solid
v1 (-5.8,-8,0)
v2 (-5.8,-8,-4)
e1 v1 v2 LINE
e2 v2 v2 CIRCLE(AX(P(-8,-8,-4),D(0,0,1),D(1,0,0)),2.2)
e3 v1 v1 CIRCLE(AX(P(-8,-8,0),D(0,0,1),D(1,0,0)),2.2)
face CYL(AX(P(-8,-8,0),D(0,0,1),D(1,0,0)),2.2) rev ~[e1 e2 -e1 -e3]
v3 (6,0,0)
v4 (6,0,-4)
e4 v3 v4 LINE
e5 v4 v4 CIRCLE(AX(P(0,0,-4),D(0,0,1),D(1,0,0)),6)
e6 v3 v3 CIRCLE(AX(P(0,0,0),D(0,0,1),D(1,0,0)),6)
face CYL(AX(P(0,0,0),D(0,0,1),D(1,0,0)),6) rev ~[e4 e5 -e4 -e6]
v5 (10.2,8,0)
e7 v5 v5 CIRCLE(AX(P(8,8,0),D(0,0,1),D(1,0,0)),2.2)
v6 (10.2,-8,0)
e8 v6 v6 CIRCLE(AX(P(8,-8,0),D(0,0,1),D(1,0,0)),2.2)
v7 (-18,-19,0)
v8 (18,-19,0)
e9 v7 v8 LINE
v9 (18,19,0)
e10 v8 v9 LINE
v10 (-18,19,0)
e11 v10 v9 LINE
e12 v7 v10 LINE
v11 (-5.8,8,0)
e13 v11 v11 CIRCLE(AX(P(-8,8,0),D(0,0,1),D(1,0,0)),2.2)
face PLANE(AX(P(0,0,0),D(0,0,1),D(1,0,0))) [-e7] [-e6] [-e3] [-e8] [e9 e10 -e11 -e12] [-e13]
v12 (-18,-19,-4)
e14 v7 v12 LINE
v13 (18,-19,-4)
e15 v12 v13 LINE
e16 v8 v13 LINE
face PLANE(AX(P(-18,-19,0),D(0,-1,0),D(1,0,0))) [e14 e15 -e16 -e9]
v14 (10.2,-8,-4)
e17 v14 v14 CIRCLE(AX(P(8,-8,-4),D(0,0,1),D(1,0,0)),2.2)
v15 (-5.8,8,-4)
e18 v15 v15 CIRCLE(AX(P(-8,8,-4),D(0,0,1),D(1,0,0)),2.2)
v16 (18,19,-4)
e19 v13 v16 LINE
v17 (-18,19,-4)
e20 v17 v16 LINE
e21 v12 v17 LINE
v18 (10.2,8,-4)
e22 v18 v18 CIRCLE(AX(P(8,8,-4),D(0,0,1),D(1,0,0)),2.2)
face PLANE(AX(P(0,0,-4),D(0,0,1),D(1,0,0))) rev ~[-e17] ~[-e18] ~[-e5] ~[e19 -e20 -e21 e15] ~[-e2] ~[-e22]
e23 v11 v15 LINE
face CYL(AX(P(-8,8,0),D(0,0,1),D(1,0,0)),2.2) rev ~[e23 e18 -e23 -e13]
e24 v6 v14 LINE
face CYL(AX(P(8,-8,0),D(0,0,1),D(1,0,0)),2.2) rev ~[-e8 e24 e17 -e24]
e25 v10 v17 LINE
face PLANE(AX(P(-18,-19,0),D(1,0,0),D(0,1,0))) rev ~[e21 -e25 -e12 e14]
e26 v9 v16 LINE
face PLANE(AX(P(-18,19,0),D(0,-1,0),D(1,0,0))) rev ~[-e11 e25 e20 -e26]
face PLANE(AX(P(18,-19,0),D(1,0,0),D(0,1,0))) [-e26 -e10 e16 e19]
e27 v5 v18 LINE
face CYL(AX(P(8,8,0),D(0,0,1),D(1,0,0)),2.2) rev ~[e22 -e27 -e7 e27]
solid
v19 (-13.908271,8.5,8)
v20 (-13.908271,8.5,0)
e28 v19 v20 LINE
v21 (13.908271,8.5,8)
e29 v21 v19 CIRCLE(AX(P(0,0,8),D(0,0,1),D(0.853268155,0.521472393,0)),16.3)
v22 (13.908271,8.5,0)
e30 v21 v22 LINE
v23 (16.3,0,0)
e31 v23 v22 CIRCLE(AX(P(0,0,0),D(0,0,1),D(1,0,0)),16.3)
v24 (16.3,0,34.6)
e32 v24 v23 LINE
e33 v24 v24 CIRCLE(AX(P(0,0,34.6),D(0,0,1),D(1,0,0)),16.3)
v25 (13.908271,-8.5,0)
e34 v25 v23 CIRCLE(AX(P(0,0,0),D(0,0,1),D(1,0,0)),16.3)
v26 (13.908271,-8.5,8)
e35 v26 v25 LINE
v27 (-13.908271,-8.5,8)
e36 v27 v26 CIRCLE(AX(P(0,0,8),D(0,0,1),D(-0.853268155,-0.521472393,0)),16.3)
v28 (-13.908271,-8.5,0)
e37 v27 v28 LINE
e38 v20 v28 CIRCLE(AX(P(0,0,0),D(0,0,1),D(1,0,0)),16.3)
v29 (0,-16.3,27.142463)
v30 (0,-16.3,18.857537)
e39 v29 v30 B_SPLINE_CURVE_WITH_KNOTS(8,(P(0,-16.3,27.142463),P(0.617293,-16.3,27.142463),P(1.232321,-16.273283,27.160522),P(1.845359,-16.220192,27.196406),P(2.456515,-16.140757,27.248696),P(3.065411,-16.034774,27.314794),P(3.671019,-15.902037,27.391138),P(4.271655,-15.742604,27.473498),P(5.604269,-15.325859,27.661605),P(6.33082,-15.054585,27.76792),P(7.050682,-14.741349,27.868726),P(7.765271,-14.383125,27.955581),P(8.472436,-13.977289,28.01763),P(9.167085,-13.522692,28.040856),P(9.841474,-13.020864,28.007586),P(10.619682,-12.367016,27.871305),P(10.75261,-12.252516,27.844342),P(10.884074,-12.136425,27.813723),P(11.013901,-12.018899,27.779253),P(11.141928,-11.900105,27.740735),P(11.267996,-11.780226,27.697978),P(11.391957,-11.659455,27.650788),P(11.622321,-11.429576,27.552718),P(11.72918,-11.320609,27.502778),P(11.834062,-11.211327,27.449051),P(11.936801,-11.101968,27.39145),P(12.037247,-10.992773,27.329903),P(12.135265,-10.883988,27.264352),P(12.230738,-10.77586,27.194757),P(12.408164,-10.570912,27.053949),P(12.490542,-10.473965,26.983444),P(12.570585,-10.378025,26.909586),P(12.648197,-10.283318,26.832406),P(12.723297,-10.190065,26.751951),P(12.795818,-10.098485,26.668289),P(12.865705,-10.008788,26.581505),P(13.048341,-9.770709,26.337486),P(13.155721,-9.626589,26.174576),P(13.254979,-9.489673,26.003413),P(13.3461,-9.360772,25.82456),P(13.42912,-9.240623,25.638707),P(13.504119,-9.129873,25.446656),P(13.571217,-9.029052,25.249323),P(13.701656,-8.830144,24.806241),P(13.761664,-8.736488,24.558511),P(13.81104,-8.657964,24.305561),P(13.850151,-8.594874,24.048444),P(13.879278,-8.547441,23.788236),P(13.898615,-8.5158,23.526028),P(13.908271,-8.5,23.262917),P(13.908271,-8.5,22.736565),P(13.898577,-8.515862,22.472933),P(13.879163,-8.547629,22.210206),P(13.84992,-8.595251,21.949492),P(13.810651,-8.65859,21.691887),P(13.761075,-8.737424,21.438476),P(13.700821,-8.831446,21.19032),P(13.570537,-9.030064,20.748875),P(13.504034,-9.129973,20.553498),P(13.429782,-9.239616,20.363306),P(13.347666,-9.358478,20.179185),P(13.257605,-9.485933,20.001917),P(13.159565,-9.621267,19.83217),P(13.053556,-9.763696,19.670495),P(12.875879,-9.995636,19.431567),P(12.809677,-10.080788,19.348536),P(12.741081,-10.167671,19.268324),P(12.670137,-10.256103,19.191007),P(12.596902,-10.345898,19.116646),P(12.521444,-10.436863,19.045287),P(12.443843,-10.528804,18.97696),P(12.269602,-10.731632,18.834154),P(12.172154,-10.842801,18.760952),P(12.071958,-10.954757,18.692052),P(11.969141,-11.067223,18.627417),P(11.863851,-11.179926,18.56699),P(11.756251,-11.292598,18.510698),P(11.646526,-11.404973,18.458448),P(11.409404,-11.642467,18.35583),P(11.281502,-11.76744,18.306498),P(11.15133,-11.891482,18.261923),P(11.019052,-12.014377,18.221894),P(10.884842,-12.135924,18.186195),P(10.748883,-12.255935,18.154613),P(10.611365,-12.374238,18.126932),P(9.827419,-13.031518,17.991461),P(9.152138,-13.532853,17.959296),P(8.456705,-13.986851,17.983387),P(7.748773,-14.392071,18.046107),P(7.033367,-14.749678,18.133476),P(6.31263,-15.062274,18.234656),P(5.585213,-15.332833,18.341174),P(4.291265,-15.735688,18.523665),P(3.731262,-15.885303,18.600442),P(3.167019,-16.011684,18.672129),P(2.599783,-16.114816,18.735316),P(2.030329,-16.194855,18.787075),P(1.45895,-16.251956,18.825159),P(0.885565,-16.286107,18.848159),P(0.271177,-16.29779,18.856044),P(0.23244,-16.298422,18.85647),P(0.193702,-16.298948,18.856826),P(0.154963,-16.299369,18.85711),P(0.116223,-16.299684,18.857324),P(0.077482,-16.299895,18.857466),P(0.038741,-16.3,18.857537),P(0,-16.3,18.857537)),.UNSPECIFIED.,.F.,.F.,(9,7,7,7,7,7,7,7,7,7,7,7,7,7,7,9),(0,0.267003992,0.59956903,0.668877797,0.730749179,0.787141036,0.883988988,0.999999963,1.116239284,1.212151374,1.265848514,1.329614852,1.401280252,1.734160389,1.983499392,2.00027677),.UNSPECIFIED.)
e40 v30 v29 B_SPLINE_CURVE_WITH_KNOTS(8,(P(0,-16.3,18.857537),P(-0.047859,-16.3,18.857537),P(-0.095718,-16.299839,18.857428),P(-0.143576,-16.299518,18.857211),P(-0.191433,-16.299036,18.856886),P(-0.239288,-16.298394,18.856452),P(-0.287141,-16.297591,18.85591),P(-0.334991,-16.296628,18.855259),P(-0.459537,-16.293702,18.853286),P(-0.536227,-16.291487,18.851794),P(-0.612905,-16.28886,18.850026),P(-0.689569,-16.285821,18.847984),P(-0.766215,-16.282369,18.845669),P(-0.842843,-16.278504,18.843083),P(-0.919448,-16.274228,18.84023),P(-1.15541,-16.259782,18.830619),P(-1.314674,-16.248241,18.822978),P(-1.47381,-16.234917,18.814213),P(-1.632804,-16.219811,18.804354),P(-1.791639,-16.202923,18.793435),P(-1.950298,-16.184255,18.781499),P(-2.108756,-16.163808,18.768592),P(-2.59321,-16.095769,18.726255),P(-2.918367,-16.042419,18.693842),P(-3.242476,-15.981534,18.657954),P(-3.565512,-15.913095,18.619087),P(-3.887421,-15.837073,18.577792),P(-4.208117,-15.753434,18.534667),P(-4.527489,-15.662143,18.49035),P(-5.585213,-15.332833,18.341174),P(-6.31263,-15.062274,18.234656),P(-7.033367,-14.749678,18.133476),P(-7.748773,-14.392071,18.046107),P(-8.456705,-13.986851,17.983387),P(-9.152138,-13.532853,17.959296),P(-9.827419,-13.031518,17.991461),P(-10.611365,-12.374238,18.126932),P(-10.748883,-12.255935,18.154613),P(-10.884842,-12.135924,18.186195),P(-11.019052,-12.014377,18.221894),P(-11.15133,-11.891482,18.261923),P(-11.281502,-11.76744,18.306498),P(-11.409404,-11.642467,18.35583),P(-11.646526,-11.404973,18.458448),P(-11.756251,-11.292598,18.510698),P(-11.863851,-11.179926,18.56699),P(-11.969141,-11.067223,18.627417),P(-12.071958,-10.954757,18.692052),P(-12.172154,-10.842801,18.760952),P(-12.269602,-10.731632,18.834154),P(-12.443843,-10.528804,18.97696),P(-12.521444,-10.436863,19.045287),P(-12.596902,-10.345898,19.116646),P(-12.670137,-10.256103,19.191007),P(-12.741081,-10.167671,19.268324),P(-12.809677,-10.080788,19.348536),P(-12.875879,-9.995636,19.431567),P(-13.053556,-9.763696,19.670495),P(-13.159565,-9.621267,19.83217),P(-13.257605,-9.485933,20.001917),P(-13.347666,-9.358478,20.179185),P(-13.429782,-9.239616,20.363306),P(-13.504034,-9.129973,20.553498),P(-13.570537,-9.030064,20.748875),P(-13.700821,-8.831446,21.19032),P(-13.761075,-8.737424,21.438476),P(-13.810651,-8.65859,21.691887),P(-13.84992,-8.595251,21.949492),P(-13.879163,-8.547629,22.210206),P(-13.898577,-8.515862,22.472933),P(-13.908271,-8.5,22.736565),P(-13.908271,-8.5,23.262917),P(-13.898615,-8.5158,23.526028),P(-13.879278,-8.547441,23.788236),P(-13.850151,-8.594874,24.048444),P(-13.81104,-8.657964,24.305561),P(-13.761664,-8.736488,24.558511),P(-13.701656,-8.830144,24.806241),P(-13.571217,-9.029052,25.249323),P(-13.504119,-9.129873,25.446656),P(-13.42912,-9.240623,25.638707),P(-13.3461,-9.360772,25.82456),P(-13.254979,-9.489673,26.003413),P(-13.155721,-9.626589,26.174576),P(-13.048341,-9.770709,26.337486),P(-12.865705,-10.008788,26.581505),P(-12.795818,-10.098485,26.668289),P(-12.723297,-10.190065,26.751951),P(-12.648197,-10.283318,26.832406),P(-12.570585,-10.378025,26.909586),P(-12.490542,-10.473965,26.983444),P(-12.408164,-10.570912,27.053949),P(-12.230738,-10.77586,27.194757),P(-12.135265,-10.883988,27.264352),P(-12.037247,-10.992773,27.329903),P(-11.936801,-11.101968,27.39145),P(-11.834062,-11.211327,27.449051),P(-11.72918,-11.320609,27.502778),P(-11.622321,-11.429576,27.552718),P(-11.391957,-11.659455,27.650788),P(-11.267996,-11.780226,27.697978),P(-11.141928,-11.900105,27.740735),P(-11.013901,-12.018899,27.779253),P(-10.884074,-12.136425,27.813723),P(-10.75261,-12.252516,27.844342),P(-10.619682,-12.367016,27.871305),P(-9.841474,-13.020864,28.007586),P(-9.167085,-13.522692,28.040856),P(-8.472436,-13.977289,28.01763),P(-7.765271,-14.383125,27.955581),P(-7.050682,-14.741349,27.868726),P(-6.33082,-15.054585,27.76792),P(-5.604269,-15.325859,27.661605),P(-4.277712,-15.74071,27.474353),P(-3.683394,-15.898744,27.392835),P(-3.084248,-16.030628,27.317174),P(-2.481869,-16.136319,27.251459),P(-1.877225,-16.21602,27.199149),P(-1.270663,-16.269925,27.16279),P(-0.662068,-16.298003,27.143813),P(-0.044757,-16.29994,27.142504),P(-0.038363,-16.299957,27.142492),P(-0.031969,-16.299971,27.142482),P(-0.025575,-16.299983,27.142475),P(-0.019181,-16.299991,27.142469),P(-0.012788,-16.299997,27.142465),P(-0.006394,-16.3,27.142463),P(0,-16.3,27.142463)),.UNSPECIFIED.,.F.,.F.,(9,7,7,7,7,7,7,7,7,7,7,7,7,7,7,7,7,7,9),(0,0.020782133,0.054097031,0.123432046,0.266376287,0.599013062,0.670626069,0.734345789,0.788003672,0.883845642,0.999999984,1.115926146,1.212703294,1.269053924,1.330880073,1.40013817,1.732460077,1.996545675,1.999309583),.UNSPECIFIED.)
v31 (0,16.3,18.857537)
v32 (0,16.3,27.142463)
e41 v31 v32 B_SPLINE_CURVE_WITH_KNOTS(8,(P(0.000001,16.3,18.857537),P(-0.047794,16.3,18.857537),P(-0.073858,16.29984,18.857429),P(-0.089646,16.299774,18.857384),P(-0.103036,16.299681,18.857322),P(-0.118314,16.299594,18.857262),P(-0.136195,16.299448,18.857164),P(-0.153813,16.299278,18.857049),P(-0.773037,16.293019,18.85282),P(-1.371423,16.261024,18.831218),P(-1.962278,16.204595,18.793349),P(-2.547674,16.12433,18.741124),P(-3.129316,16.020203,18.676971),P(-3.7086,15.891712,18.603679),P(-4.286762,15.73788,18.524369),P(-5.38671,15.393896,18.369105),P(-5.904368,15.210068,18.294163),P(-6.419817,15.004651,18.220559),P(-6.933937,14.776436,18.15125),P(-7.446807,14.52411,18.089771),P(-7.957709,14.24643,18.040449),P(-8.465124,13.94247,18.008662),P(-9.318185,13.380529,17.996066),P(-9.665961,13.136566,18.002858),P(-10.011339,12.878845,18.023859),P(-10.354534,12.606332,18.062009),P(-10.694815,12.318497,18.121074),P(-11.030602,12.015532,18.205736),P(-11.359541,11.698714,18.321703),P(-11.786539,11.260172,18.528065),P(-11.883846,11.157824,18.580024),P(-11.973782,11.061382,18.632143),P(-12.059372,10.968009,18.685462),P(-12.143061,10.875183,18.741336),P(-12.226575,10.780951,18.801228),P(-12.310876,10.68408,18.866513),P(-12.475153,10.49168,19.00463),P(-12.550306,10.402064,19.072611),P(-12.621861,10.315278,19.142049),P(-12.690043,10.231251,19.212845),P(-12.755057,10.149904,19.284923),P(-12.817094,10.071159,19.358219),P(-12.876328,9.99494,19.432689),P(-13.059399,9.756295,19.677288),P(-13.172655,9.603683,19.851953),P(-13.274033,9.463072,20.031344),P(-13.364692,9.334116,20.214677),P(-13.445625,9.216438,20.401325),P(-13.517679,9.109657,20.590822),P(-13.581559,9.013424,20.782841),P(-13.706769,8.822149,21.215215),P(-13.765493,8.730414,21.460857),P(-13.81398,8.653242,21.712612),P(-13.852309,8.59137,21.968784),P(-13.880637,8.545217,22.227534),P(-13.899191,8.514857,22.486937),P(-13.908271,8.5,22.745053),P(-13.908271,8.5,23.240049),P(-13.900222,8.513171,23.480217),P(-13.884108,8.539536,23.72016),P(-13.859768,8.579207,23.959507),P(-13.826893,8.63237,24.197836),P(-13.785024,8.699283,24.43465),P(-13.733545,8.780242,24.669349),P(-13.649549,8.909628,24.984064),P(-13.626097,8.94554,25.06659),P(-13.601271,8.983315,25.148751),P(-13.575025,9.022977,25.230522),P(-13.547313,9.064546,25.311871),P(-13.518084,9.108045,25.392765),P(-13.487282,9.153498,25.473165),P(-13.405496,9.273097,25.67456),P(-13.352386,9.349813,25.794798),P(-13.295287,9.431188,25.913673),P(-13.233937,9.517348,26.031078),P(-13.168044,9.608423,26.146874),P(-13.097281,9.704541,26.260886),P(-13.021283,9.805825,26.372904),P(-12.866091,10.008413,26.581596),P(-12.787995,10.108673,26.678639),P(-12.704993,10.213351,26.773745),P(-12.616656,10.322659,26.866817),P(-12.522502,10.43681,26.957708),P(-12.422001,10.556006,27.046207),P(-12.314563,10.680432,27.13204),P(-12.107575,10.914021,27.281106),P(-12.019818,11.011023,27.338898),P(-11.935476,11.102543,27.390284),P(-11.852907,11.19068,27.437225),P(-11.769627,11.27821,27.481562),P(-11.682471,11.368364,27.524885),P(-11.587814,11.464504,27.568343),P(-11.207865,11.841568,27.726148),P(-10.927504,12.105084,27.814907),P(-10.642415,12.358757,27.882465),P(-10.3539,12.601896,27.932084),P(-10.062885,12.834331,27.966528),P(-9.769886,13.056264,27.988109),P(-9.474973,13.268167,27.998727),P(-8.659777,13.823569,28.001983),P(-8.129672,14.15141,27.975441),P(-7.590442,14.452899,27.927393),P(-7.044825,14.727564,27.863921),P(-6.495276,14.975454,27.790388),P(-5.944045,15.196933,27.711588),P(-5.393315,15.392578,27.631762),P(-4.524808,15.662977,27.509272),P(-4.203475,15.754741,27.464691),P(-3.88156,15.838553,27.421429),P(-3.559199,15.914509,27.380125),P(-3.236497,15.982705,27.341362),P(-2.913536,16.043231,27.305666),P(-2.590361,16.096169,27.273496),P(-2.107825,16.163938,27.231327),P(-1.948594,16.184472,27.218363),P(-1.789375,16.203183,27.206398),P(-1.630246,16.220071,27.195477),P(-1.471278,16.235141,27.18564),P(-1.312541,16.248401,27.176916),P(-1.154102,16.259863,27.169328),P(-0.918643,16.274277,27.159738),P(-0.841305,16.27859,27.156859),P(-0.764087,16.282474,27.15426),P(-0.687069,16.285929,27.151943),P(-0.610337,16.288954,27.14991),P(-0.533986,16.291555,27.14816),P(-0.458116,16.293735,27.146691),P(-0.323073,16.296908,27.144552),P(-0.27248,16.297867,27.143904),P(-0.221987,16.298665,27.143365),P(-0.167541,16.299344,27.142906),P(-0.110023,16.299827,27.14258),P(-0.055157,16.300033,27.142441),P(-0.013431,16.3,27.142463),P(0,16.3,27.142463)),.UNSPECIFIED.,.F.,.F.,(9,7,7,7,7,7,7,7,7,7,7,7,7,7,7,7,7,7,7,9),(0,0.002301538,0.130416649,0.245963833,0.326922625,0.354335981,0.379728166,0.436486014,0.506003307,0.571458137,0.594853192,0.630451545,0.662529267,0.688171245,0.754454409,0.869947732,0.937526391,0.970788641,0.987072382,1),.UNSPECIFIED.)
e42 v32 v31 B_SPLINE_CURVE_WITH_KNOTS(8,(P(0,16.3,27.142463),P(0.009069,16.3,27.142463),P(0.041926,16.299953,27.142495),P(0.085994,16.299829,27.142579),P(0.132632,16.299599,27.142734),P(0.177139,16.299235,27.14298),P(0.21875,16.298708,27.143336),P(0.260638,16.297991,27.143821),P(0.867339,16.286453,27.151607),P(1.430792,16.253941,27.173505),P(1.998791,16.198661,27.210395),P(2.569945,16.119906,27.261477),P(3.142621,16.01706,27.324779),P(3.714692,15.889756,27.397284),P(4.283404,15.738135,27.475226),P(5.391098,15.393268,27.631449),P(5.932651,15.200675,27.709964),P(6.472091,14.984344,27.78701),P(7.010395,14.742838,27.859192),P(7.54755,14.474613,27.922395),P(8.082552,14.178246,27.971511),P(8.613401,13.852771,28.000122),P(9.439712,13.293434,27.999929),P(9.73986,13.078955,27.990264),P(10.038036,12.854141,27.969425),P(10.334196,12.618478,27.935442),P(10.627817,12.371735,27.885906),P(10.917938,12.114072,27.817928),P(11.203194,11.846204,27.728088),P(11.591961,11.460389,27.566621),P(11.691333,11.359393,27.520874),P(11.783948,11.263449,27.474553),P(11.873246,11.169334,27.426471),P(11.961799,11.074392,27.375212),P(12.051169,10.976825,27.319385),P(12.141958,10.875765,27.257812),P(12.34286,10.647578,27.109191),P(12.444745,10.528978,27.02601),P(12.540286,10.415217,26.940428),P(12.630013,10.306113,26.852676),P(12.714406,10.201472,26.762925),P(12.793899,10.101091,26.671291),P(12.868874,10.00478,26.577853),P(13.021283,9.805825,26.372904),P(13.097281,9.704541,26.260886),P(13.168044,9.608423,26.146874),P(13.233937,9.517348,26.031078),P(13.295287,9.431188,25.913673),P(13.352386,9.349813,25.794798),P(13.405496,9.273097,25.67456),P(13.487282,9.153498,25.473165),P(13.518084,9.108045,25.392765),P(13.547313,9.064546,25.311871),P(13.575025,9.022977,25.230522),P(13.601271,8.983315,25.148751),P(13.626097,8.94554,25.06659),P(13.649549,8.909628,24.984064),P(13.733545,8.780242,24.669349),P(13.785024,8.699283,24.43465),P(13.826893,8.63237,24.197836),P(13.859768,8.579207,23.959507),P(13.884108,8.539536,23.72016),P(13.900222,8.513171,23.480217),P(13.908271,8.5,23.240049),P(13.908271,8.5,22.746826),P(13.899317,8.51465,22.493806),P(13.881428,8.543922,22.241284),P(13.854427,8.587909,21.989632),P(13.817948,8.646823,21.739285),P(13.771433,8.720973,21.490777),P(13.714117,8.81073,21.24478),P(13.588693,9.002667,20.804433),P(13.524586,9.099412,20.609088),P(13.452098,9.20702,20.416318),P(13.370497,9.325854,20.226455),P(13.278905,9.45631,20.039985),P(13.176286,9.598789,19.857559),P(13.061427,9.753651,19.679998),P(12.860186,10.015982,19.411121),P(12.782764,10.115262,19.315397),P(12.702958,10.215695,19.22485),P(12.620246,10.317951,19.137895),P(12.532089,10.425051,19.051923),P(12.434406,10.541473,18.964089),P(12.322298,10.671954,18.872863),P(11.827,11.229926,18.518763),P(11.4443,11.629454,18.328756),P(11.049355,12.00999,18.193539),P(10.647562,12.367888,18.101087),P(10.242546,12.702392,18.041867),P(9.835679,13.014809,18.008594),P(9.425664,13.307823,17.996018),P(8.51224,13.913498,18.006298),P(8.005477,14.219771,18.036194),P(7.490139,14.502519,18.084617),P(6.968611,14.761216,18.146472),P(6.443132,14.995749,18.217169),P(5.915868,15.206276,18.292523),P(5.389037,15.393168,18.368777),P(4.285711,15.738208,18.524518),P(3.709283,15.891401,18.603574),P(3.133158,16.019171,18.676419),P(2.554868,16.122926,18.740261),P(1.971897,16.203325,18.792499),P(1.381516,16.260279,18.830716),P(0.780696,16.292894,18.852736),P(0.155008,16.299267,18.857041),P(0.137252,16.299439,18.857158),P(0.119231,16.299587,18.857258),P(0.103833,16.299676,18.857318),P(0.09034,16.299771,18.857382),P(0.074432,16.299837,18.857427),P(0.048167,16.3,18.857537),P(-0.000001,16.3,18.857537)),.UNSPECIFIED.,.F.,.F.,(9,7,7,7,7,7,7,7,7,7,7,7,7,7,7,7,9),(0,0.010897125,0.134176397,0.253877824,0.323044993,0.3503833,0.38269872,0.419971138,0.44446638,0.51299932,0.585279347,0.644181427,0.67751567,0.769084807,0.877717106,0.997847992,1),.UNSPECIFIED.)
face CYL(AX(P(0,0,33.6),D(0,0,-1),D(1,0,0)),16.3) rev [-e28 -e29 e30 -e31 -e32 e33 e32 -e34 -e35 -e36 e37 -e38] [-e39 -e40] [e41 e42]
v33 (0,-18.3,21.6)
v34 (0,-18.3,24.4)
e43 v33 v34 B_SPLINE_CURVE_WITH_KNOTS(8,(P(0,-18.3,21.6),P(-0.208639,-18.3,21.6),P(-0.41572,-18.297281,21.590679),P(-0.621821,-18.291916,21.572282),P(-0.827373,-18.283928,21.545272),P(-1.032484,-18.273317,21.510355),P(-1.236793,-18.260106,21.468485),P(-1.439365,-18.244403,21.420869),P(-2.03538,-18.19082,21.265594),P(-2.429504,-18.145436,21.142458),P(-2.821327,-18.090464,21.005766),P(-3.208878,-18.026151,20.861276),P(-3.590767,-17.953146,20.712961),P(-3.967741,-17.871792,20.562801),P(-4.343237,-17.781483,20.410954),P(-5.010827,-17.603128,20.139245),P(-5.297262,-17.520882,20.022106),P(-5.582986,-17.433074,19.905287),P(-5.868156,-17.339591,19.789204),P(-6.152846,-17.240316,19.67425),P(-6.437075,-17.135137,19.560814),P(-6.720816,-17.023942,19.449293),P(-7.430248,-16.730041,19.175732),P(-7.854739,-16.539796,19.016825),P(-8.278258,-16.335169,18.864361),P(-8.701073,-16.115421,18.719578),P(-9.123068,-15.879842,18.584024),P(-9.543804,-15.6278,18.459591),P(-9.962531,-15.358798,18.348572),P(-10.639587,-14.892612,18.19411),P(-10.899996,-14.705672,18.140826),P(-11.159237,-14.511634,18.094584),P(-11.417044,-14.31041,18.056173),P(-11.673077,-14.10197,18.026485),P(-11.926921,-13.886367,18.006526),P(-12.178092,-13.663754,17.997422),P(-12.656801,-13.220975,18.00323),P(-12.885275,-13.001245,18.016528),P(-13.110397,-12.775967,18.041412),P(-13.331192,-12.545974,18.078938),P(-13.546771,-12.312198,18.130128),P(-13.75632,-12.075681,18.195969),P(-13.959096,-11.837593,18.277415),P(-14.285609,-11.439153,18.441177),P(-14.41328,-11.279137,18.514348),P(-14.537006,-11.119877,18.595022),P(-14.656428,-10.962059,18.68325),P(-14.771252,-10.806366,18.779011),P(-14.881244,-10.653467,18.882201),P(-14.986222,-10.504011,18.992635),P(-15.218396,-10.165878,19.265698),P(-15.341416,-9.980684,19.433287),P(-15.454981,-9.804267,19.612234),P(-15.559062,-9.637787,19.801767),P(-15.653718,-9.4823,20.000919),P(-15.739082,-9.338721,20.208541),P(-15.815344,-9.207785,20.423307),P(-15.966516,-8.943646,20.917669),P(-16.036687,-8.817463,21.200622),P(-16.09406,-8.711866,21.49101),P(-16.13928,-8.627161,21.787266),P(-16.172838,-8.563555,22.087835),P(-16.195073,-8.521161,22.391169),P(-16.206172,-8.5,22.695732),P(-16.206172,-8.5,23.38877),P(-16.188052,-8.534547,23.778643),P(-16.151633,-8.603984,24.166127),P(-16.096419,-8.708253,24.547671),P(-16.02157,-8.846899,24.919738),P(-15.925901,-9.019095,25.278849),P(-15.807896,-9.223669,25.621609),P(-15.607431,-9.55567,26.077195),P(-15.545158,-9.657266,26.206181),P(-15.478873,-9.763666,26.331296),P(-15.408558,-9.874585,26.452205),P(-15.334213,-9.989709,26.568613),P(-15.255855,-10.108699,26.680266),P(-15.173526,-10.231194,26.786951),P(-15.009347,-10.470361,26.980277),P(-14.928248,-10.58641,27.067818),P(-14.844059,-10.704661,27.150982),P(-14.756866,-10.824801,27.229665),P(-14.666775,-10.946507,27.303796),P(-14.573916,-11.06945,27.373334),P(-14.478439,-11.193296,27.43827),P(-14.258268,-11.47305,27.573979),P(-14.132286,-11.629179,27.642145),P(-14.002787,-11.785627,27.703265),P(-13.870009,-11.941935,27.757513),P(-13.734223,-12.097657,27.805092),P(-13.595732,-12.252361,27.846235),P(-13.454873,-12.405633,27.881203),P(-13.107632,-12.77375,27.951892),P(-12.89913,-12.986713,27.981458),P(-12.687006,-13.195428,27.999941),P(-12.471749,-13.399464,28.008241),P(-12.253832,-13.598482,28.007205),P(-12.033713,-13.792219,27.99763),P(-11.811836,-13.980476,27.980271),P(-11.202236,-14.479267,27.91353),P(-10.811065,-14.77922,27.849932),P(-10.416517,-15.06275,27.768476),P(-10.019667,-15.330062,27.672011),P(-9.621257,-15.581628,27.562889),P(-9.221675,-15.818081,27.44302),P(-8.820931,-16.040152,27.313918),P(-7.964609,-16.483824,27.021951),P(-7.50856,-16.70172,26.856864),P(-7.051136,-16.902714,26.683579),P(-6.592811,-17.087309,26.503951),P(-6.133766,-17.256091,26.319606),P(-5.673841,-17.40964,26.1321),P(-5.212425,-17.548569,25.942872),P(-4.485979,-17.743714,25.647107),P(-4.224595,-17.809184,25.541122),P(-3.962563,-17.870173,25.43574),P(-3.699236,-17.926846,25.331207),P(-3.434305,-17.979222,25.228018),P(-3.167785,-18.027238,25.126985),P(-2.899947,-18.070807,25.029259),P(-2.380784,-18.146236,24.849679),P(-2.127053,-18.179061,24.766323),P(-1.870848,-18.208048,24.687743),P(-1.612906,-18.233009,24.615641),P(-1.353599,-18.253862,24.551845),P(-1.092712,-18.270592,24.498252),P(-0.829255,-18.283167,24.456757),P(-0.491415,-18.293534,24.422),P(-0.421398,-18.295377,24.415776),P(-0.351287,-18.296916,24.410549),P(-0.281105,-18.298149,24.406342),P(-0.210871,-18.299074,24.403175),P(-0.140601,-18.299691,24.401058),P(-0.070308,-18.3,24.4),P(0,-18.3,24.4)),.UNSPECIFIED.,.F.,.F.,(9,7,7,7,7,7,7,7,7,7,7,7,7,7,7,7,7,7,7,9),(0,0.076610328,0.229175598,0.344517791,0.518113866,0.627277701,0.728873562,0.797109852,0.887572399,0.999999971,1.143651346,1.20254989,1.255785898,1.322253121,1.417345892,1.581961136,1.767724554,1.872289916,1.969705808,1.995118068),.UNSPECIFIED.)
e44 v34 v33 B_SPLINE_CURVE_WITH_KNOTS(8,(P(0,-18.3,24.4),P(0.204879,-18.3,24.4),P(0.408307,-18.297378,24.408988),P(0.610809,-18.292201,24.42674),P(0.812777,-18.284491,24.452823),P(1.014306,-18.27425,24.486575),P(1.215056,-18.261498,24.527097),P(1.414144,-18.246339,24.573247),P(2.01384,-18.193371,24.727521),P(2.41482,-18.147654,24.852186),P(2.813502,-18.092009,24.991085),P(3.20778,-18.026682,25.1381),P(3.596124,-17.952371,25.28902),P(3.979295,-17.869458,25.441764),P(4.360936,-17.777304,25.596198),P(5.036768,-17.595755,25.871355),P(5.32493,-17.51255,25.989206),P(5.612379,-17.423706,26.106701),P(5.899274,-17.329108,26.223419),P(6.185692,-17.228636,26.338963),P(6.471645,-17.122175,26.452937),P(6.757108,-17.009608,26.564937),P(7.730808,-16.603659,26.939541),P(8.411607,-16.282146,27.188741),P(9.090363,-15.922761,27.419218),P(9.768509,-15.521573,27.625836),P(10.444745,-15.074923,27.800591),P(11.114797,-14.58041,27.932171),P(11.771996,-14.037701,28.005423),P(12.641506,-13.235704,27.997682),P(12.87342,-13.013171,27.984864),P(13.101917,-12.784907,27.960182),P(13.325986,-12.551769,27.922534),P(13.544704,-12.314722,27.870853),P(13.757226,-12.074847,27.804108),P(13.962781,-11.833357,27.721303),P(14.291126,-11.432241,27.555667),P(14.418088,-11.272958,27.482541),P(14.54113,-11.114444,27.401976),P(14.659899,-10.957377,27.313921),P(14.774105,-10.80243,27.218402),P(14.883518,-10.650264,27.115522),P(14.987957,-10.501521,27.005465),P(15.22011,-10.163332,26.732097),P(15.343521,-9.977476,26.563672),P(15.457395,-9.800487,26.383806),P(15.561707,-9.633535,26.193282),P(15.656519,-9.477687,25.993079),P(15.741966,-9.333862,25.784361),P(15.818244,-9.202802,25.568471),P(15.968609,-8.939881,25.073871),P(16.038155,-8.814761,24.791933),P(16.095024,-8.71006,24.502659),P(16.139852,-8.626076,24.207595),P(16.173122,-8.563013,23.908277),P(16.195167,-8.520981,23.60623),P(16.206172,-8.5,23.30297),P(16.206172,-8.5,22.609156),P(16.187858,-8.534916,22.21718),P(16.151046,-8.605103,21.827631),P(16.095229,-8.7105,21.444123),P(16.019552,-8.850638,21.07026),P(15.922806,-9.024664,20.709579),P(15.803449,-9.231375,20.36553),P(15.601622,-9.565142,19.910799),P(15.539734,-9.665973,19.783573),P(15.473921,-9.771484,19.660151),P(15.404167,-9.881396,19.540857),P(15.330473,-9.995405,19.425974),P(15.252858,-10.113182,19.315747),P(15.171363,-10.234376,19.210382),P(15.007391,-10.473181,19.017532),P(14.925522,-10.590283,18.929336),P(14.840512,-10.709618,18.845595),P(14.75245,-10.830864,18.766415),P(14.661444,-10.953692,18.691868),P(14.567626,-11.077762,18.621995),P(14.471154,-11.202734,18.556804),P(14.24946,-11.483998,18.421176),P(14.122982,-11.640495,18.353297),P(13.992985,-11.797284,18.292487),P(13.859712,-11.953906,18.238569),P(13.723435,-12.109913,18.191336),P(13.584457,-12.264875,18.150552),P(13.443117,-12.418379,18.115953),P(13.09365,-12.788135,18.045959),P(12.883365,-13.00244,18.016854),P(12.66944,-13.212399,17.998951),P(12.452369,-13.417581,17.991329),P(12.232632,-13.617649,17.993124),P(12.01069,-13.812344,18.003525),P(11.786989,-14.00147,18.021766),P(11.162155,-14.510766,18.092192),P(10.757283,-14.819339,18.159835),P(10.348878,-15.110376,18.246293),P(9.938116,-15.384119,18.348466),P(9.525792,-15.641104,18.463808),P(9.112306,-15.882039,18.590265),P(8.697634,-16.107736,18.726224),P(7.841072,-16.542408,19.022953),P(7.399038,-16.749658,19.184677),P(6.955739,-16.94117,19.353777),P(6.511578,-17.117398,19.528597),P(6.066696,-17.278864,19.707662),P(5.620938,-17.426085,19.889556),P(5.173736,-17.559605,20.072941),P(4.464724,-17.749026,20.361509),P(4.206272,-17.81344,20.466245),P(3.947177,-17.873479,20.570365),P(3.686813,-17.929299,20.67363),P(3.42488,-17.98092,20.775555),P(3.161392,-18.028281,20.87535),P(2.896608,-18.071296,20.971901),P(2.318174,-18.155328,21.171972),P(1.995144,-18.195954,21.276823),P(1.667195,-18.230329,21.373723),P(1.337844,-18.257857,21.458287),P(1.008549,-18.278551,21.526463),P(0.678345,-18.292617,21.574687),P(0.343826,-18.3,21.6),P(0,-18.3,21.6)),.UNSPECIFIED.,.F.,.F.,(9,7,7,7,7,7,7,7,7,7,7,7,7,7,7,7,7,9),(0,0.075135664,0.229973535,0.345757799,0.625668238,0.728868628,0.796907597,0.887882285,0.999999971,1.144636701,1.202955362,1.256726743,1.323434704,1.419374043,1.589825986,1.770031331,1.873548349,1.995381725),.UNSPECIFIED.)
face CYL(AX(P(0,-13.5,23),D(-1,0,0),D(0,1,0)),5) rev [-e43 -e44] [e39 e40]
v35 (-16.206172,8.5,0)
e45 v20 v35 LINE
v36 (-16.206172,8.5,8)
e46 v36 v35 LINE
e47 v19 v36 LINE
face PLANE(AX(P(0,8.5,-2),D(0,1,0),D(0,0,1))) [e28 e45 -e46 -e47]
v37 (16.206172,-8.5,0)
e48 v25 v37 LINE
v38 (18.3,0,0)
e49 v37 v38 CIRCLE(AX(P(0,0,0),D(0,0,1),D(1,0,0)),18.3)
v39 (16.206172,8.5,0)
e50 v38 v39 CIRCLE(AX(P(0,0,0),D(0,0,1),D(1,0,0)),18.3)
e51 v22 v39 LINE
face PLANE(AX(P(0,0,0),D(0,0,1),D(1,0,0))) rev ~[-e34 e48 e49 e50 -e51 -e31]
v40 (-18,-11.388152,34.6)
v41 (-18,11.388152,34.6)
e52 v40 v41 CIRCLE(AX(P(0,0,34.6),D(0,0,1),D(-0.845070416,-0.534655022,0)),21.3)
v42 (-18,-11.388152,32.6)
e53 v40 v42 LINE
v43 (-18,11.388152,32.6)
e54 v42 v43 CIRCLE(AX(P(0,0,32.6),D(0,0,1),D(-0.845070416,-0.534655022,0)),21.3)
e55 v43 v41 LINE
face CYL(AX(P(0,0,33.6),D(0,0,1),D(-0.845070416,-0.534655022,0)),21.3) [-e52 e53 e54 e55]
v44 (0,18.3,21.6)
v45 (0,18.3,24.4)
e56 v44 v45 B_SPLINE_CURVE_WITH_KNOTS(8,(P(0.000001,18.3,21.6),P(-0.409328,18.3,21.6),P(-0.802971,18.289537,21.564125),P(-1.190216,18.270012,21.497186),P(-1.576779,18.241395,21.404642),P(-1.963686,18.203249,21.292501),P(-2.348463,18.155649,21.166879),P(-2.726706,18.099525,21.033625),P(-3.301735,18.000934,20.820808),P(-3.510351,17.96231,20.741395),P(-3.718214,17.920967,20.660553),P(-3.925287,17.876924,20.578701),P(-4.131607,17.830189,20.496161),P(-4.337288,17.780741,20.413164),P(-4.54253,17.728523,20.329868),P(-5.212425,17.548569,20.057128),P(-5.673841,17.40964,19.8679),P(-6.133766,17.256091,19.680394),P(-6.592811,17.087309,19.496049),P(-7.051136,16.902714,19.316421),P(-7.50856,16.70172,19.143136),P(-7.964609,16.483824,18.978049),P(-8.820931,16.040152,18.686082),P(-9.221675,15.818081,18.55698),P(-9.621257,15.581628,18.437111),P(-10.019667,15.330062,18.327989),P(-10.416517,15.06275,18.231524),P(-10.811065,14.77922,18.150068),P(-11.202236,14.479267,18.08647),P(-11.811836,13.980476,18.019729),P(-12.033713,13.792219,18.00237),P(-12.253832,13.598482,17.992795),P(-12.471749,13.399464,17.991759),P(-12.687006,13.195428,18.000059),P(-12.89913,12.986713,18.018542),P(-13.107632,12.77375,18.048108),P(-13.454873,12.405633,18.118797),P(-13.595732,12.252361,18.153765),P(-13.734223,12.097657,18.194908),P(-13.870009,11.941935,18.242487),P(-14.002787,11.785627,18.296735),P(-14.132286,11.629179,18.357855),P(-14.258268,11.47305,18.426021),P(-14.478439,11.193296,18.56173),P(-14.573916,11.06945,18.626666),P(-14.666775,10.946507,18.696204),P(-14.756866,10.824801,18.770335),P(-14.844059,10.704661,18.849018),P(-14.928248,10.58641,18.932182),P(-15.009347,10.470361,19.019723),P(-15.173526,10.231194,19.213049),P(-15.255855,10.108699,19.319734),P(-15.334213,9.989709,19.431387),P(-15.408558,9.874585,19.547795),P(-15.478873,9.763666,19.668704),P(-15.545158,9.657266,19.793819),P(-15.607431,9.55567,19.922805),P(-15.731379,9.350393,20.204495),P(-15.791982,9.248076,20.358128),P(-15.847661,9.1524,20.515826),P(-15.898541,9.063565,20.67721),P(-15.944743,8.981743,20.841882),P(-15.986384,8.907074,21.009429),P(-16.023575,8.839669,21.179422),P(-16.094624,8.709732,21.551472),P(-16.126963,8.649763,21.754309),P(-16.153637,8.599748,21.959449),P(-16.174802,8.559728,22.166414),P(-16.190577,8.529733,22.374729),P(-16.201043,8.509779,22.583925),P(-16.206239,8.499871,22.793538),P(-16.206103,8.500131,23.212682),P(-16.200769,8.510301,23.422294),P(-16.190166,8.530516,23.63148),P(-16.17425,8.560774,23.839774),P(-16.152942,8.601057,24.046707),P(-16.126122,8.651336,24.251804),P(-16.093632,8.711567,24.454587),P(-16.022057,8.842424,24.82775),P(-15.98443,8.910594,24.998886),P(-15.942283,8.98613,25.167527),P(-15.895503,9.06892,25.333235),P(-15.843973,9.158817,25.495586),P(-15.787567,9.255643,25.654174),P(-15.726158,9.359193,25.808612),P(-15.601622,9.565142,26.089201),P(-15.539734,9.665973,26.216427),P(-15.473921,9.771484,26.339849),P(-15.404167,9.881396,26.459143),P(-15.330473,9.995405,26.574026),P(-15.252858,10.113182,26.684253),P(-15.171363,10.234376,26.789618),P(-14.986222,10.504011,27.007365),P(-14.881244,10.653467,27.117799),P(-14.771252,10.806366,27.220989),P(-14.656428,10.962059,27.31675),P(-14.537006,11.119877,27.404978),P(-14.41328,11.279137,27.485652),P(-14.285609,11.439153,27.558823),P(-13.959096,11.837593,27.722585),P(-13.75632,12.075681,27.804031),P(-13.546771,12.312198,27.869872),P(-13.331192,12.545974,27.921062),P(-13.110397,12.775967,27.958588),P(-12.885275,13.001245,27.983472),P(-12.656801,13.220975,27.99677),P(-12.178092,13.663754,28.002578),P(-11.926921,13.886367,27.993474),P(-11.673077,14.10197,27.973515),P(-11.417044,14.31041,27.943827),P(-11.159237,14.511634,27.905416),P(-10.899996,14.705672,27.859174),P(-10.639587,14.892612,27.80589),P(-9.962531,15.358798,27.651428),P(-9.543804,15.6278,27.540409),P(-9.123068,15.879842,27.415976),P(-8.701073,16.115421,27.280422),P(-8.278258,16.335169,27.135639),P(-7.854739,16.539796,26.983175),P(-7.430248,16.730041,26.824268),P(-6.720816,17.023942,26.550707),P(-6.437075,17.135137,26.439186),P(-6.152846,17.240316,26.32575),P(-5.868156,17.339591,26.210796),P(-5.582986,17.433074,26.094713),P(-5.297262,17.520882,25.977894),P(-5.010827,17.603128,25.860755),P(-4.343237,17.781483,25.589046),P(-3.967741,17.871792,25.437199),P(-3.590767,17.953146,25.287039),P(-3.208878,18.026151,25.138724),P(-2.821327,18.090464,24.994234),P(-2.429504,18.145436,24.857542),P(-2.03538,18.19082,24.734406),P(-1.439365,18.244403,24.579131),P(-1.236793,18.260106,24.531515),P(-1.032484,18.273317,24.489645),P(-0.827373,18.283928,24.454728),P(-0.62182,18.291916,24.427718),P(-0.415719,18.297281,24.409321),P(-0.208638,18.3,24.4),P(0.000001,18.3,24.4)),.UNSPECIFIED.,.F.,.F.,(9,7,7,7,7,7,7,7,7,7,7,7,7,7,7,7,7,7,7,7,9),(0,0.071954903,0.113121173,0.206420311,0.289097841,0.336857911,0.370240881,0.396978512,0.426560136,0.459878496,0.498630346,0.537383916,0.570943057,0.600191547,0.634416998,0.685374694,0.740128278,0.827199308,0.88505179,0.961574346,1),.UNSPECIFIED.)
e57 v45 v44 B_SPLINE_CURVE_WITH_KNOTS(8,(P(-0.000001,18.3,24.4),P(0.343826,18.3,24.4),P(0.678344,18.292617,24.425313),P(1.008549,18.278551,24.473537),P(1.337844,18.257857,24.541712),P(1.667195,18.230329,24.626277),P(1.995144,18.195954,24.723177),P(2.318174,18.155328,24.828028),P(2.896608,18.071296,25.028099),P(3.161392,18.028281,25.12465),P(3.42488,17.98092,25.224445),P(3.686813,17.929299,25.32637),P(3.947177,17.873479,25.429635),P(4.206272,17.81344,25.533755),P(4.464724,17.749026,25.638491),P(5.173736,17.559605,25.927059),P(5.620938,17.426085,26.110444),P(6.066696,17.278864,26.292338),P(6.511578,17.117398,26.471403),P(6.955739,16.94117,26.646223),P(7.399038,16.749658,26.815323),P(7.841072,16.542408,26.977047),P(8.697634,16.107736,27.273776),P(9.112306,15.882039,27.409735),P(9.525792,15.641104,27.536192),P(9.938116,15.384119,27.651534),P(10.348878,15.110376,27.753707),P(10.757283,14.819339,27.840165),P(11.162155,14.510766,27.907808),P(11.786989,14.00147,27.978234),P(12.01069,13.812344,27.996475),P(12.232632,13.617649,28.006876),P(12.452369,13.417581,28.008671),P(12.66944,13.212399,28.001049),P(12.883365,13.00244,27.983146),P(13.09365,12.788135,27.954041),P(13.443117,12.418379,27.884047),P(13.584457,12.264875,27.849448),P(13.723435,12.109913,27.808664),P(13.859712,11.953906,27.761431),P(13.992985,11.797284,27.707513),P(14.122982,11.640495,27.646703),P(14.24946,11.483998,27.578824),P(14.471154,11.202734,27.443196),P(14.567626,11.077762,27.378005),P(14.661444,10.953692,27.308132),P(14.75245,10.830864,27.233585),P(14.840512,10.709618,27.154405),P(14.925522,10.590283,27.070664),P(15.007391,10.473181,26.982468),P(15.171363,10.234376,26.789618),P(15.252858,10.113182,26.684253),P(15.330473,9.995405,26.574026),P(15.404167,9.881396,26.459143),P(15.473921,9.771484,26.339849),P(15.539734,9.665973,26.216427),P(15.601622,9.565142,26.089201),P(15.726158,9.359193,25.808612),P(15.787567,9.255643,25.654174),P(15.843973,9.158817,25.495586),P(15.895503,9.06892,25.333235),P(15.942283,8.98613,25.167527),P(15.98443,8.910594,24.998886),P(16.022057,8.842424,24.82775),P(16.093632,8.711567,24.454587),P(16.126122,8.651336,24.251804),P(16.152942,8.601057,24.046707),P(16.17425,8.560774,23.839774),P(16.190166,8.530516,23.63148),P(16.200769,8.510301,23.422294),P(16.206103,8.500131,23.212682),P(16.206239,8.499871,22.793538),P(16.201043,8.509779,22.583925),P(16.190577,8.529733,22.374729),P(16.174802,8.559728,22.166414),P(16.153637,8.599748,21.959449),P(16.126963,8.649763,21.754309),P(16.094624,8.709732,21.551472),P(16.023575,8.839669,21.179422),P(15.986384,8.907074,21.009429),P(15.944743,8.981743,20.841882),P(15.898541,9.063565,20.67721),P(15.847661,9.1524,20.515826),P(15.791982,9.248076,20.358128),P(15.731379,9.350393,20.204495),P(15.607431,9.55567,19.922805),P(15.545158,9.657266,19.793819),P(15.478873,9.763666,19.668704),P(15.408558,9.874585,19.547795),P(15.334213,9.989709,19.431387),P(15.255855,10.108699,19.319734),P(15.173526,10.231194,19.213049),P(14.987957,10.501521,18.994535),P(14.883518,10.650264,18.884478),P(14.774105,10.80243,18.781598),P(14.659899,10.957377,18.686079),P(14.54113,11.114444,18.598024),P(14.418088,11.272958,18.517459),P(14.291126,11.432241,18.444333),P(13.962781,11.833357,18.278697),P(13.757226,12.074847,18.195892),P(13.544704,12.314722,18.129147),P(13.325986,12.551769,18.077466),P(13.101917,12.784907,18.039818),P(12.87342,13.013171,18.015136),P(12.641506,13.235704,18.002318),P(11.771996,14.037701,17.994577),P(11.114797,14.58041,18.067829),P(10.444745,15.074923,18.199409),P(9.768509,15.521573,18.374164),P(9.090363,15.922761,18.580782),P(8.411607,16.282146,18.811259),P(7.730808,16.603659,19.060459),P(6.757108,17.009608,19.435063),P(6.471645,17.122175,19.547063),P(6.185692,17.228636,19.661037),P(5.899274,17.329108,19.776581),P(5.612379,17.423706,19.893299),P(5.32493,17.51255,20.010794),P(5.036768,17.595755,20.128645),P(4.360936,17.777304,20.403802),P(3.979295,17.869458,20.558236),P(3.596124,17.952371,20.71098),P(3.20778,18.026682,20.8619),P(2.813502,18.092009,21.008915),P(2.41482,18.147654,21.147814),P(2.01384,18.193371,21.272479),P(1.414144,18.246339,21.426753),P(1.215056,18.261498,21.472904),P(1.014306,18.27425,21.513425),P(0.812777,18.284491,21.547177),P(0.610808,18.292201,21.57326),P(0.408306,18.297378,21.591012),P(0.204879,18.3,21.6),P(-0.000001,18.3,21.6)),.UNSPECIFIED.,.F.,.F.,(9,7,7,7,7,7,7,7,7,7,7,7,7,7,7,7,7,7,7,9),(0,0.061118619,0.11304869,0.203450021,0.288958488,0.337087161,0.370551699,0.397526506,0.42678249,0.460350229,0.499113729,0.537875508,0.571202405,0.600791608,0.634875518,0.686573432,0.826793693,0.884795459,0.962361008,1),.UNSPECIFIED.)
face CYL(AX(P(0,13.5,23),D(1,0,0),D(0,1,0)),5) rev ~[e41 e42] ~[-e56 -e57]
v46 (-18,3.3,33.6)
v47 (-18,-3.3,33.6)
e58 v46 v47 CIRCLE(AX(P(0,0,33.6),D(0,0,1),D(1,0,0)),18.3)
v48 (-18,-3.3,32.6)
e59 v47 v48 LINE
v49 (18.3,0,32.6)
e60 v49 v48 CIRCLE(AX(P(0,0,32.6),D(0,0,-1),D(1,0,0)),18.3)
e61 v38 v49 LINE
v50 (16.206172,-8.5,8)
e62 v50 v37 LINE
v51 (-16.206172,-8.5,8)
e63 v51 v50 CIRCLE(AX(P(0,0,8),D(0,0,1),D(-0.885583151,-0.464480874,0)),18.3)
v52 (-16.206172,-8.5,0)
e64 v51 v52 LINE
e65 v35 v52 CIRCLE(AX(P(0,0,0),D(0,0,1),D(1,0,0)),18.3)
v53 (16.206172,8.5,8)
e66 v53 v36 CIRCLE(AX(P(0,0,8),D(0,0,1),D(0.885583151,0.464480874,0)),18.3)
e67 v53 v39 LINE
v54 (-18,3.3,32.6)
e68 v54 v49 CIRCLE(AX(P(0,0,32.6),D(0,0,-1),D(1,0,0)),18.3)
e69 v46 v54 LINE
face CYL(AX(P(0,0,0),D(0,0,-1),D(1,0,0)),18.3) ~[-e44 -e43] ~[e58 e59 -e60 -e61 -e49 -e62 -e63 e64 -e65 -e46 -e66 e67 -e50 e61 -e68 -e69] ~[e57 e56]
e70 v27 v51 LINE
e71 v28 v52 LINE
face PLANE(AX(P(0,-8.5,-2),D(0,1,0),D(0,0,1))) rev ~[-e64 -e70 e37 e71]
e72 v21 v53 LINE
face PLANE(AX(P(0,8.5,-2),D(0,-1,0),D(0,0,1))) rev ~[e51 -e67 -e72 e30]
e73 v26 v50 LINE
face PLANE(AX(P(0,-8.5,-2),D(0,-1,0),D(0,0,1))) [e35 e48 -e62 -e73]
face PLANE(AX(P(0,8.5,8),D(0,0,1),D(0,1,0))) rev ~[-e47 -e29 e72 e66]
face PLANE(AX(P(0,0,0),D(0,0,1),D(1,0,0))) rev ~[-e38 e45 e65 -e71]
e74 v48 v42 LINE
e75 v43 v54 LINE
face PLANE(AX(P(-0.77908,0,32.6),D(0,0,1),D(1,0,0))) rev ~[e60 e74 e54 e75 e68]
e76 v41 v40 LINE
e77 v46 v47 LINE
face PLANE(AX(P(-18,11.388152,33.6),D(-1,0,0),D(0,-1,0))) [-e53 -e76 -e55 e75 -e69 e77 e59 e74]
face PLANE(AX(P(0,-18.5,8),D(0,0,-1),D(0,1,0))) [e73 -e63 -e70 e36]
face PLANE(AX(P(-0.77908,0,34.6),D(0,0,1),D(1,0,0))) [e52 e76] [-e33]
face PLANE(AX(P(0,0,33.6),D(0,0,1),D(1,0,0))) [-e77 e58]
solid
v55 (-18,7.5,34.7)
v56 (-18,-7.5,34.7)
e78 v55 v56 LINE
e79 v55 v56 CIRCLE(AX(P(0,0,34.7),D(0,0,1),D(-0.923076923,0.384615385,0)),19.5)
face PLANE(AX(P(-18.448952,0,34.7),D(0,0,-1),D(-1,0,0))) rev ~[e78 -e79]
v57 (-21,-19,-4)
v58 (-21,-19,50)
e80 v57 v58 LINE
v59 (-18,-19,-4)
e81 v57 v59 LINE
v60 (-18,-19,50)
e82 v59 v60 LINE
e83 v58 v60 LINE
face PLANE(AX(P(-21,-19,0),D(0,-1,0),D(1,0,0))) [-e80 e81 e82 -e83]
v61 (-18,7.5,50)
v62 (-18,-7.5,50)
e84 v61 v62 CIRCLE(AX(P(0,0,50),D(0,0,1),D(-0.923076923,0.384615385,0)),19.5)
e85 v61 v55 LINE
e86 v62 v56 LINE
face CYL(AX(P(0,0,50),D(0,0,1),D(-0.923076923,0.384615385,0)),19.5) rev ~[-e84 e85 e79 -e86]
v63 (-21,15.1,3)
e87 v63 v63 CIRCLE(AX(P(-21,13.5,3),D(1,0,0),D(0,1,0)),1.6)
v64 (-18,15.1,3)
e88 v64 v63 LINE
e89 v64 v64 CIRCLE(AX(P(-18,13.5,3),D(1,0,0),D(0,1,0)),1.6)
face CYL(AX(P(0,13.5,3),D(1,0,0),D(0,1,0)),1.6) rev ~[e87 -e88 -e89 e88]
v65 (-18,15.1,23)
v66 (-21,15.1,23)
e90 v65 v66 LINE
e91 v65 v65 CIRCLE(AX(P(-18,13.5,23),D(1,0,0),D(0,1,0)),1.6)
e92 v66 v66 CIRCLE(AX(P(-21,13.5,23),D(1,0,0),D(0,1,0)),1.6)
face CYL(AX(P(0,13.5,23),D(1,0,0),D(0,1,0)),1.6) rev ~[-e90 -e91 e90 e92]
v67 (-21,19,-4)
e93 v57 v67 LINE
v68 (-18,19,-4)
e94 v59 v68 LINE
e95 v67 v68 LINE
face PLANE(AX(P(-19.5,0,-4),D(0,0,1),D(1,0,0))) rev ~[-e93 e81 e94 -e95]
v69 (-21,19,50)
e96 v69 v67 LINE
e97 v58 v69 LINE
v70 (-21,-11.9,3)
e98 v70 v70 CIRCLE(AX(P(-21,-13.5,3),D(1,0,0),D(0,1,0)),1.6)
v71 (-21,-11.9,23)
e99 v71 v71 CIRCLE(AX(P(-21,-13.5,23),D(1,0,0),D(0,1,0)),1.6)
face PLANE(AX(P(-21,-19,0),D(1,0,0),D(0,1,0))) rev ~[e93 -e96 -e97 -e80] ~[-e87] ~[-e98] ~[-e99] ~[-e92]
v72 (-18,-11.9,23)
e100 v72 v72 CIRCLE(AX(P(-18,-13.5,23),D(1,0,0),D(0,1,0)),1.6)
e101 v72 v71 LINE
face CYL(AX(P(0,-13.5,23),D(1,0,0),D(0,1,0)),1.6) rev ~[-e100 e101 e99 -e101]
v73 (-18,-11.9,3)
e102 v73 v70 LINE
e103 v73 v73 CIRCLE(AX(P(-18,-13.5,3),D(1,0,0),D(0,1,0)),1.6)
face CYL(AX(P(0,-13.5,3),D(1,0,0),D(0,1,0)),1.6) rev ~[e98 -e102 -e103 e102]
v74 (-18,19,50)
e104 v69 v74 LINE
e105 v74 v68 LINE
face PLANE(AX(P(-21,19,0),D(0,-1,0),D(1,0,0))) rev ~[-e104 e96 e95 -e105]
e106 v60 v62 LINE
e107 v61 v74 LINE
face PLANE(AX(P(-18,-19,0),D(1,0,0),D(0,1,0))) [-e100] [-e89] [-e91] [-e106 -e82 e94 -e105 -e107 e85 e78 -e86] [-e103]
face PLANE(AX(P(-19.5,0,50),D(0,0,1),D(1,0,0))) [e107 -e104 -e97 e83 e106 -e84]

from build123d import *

# Parameters (mm, degrees)
SKETCH002_R       = 18.3
SKETCH002_R_2     = 16.3
PAD002_DEPTH      = 33.6
SKETCH003_R       = 5
SKETCH003_W       = 10
SKETCH003_H       = 10
POCKET_DEPTH      = 18.301
POCKET_DEPTH_BACK = 18.301
SKETCH005_R       = 16.3
PAD003_DEPTH      = 1
SKETCH_W          = 36
SKETCH_H          = 38
SKETCH_R          = 6
SKETCH_R_2        = 2.2
PAD_DEPTH         = 4
SKETCH001_W       = 3
SKETCH001_H       = 38
PAD001_DEPTH      = 50
PAD001_DEPTH_BACK = 4
SKETCH004_R       = 1.6
POCKET001_DEPTH   = 21.001
POCKET002_DEPTH   = 15.3


with BuildPart() as cilindroreduccion:
    # Sketch002 → Pad002 (new body)
    with BuildSketch(Plane.XY):
        Circle(SKETCH002_R)
        Circle(SKETCH002_R_2, mode=Mode.SUBTRACT)
    extrude(amount=PAD002_DEPTH)

    # Sketch003 → Pocket (cut, two sides)
    with BuildSketch(Plane.YZ) as pocket_sk:
        with Locations((13.5, 23)):
            Circle(SKETCH003_R)
        with Locations((-13.5, 23)):
            Circle(SKETCH003_R)
        with Locations((13.5, 3)):
            Rectangle(SKETCH003_W, SKETCH003_H)
        with Locations((-13.5, 3)):
            Rectangle(SKETCH003_W, SKETCH003_H)
    extrude(amount=-POCKET_DEPTH, mode=Mode.SUBTRACT)
    extrude(pocket_sk.sketch, amount=POCKET_DEPTH_BACK, mode=Mode.SUBTRACT)

    # Sketch005 → Pad003 (join, symmetric)
    with BuildSketch(Plane.XY.offset(33.6)):
        with BuildLine():
            ThreePointArc((-18, -11.388152), (21.3, 0), (-18, 11.388152))
            Line((-18, 11.388152), (-18, -11.388152))
        make_face()
        Circle(SKETCH005_R, mode=Mode.SUBTRACT)
    extrude(amount=PAD003_DEPTH, both=True)


with BuildPart() as caratornillos:
    # Sketch → Pad (new body)
    with BuildSketch(Plane.XY):
        Rectangle(SKETCH_W, SKETCH_H)
        Circle(SKETCH_R, mode=Mode.SUBTRACT)
        with Locations((8, 8)):
            Circle(SKETCH_R_2, mode=Mode.SUBTRACT)
        with Locations((8, -8)):
            Circle(SKETCH_R_2, mode=Mode.SUBTRACT)
        with Locations((-8, 8)):
            Circle(SKETCH_R_2, mode=Mode.SUBTRACT)
        with Locations((-8, -8)):
            Circle(SKETCH_R_2, mode=Mode.SUBTRACT)
    extrude(amount=-PAD_DEPTH)


with BuildPart() as separador:
    # Sketch001 → Pad001 (new body, two sides)
    with BuildSketch(Plane.XY) as pad001_sk:
        with Locations((-19.5, 0)):
            Rectangle(SKETCH001_W, SKETCH001_H)
    extrude(amount=PAD001_DEPTH)
    extrude(pad001_sk.sketch, amount=-PAD001_DEPTH_BACK)

    # Sketch004 → Pocket001 (cut, through all)
    with BuildSketch(Plane.YZ):
        with Locations((13.5, 3)):
            Circle(SKETCH004_R)
        with Locations((-13.5, 3)):
            Circle(SKETCH004_R)
        with Locations((-13.5, 23)):
            Circle(SKETCH004_R)
        with Locations((13.5, 23)):
            Circle(SKETCH004_R)
    extrude(amount=-POCKET001_DEPTH, mode=Mode.SUBTRACT)

    # Sketch006 (on Face5 of Pocket001) → Pocket002 (cut)
    with BuildSketch(Plane.XY.offset(50)):
        with BuildLine():
            Line((-18, 7.5), (-18, -7.5))
            ThreePointArc((-18, 7.5), (-19.5, 0), (-18, -7.5))
        make_face()
    extrude(amount=-POCKET002_DEPTH, mode=Mode.SUBTRACT)


solid = Compound([cilindroreduccion.part, caratornillos.part, separador.part])
